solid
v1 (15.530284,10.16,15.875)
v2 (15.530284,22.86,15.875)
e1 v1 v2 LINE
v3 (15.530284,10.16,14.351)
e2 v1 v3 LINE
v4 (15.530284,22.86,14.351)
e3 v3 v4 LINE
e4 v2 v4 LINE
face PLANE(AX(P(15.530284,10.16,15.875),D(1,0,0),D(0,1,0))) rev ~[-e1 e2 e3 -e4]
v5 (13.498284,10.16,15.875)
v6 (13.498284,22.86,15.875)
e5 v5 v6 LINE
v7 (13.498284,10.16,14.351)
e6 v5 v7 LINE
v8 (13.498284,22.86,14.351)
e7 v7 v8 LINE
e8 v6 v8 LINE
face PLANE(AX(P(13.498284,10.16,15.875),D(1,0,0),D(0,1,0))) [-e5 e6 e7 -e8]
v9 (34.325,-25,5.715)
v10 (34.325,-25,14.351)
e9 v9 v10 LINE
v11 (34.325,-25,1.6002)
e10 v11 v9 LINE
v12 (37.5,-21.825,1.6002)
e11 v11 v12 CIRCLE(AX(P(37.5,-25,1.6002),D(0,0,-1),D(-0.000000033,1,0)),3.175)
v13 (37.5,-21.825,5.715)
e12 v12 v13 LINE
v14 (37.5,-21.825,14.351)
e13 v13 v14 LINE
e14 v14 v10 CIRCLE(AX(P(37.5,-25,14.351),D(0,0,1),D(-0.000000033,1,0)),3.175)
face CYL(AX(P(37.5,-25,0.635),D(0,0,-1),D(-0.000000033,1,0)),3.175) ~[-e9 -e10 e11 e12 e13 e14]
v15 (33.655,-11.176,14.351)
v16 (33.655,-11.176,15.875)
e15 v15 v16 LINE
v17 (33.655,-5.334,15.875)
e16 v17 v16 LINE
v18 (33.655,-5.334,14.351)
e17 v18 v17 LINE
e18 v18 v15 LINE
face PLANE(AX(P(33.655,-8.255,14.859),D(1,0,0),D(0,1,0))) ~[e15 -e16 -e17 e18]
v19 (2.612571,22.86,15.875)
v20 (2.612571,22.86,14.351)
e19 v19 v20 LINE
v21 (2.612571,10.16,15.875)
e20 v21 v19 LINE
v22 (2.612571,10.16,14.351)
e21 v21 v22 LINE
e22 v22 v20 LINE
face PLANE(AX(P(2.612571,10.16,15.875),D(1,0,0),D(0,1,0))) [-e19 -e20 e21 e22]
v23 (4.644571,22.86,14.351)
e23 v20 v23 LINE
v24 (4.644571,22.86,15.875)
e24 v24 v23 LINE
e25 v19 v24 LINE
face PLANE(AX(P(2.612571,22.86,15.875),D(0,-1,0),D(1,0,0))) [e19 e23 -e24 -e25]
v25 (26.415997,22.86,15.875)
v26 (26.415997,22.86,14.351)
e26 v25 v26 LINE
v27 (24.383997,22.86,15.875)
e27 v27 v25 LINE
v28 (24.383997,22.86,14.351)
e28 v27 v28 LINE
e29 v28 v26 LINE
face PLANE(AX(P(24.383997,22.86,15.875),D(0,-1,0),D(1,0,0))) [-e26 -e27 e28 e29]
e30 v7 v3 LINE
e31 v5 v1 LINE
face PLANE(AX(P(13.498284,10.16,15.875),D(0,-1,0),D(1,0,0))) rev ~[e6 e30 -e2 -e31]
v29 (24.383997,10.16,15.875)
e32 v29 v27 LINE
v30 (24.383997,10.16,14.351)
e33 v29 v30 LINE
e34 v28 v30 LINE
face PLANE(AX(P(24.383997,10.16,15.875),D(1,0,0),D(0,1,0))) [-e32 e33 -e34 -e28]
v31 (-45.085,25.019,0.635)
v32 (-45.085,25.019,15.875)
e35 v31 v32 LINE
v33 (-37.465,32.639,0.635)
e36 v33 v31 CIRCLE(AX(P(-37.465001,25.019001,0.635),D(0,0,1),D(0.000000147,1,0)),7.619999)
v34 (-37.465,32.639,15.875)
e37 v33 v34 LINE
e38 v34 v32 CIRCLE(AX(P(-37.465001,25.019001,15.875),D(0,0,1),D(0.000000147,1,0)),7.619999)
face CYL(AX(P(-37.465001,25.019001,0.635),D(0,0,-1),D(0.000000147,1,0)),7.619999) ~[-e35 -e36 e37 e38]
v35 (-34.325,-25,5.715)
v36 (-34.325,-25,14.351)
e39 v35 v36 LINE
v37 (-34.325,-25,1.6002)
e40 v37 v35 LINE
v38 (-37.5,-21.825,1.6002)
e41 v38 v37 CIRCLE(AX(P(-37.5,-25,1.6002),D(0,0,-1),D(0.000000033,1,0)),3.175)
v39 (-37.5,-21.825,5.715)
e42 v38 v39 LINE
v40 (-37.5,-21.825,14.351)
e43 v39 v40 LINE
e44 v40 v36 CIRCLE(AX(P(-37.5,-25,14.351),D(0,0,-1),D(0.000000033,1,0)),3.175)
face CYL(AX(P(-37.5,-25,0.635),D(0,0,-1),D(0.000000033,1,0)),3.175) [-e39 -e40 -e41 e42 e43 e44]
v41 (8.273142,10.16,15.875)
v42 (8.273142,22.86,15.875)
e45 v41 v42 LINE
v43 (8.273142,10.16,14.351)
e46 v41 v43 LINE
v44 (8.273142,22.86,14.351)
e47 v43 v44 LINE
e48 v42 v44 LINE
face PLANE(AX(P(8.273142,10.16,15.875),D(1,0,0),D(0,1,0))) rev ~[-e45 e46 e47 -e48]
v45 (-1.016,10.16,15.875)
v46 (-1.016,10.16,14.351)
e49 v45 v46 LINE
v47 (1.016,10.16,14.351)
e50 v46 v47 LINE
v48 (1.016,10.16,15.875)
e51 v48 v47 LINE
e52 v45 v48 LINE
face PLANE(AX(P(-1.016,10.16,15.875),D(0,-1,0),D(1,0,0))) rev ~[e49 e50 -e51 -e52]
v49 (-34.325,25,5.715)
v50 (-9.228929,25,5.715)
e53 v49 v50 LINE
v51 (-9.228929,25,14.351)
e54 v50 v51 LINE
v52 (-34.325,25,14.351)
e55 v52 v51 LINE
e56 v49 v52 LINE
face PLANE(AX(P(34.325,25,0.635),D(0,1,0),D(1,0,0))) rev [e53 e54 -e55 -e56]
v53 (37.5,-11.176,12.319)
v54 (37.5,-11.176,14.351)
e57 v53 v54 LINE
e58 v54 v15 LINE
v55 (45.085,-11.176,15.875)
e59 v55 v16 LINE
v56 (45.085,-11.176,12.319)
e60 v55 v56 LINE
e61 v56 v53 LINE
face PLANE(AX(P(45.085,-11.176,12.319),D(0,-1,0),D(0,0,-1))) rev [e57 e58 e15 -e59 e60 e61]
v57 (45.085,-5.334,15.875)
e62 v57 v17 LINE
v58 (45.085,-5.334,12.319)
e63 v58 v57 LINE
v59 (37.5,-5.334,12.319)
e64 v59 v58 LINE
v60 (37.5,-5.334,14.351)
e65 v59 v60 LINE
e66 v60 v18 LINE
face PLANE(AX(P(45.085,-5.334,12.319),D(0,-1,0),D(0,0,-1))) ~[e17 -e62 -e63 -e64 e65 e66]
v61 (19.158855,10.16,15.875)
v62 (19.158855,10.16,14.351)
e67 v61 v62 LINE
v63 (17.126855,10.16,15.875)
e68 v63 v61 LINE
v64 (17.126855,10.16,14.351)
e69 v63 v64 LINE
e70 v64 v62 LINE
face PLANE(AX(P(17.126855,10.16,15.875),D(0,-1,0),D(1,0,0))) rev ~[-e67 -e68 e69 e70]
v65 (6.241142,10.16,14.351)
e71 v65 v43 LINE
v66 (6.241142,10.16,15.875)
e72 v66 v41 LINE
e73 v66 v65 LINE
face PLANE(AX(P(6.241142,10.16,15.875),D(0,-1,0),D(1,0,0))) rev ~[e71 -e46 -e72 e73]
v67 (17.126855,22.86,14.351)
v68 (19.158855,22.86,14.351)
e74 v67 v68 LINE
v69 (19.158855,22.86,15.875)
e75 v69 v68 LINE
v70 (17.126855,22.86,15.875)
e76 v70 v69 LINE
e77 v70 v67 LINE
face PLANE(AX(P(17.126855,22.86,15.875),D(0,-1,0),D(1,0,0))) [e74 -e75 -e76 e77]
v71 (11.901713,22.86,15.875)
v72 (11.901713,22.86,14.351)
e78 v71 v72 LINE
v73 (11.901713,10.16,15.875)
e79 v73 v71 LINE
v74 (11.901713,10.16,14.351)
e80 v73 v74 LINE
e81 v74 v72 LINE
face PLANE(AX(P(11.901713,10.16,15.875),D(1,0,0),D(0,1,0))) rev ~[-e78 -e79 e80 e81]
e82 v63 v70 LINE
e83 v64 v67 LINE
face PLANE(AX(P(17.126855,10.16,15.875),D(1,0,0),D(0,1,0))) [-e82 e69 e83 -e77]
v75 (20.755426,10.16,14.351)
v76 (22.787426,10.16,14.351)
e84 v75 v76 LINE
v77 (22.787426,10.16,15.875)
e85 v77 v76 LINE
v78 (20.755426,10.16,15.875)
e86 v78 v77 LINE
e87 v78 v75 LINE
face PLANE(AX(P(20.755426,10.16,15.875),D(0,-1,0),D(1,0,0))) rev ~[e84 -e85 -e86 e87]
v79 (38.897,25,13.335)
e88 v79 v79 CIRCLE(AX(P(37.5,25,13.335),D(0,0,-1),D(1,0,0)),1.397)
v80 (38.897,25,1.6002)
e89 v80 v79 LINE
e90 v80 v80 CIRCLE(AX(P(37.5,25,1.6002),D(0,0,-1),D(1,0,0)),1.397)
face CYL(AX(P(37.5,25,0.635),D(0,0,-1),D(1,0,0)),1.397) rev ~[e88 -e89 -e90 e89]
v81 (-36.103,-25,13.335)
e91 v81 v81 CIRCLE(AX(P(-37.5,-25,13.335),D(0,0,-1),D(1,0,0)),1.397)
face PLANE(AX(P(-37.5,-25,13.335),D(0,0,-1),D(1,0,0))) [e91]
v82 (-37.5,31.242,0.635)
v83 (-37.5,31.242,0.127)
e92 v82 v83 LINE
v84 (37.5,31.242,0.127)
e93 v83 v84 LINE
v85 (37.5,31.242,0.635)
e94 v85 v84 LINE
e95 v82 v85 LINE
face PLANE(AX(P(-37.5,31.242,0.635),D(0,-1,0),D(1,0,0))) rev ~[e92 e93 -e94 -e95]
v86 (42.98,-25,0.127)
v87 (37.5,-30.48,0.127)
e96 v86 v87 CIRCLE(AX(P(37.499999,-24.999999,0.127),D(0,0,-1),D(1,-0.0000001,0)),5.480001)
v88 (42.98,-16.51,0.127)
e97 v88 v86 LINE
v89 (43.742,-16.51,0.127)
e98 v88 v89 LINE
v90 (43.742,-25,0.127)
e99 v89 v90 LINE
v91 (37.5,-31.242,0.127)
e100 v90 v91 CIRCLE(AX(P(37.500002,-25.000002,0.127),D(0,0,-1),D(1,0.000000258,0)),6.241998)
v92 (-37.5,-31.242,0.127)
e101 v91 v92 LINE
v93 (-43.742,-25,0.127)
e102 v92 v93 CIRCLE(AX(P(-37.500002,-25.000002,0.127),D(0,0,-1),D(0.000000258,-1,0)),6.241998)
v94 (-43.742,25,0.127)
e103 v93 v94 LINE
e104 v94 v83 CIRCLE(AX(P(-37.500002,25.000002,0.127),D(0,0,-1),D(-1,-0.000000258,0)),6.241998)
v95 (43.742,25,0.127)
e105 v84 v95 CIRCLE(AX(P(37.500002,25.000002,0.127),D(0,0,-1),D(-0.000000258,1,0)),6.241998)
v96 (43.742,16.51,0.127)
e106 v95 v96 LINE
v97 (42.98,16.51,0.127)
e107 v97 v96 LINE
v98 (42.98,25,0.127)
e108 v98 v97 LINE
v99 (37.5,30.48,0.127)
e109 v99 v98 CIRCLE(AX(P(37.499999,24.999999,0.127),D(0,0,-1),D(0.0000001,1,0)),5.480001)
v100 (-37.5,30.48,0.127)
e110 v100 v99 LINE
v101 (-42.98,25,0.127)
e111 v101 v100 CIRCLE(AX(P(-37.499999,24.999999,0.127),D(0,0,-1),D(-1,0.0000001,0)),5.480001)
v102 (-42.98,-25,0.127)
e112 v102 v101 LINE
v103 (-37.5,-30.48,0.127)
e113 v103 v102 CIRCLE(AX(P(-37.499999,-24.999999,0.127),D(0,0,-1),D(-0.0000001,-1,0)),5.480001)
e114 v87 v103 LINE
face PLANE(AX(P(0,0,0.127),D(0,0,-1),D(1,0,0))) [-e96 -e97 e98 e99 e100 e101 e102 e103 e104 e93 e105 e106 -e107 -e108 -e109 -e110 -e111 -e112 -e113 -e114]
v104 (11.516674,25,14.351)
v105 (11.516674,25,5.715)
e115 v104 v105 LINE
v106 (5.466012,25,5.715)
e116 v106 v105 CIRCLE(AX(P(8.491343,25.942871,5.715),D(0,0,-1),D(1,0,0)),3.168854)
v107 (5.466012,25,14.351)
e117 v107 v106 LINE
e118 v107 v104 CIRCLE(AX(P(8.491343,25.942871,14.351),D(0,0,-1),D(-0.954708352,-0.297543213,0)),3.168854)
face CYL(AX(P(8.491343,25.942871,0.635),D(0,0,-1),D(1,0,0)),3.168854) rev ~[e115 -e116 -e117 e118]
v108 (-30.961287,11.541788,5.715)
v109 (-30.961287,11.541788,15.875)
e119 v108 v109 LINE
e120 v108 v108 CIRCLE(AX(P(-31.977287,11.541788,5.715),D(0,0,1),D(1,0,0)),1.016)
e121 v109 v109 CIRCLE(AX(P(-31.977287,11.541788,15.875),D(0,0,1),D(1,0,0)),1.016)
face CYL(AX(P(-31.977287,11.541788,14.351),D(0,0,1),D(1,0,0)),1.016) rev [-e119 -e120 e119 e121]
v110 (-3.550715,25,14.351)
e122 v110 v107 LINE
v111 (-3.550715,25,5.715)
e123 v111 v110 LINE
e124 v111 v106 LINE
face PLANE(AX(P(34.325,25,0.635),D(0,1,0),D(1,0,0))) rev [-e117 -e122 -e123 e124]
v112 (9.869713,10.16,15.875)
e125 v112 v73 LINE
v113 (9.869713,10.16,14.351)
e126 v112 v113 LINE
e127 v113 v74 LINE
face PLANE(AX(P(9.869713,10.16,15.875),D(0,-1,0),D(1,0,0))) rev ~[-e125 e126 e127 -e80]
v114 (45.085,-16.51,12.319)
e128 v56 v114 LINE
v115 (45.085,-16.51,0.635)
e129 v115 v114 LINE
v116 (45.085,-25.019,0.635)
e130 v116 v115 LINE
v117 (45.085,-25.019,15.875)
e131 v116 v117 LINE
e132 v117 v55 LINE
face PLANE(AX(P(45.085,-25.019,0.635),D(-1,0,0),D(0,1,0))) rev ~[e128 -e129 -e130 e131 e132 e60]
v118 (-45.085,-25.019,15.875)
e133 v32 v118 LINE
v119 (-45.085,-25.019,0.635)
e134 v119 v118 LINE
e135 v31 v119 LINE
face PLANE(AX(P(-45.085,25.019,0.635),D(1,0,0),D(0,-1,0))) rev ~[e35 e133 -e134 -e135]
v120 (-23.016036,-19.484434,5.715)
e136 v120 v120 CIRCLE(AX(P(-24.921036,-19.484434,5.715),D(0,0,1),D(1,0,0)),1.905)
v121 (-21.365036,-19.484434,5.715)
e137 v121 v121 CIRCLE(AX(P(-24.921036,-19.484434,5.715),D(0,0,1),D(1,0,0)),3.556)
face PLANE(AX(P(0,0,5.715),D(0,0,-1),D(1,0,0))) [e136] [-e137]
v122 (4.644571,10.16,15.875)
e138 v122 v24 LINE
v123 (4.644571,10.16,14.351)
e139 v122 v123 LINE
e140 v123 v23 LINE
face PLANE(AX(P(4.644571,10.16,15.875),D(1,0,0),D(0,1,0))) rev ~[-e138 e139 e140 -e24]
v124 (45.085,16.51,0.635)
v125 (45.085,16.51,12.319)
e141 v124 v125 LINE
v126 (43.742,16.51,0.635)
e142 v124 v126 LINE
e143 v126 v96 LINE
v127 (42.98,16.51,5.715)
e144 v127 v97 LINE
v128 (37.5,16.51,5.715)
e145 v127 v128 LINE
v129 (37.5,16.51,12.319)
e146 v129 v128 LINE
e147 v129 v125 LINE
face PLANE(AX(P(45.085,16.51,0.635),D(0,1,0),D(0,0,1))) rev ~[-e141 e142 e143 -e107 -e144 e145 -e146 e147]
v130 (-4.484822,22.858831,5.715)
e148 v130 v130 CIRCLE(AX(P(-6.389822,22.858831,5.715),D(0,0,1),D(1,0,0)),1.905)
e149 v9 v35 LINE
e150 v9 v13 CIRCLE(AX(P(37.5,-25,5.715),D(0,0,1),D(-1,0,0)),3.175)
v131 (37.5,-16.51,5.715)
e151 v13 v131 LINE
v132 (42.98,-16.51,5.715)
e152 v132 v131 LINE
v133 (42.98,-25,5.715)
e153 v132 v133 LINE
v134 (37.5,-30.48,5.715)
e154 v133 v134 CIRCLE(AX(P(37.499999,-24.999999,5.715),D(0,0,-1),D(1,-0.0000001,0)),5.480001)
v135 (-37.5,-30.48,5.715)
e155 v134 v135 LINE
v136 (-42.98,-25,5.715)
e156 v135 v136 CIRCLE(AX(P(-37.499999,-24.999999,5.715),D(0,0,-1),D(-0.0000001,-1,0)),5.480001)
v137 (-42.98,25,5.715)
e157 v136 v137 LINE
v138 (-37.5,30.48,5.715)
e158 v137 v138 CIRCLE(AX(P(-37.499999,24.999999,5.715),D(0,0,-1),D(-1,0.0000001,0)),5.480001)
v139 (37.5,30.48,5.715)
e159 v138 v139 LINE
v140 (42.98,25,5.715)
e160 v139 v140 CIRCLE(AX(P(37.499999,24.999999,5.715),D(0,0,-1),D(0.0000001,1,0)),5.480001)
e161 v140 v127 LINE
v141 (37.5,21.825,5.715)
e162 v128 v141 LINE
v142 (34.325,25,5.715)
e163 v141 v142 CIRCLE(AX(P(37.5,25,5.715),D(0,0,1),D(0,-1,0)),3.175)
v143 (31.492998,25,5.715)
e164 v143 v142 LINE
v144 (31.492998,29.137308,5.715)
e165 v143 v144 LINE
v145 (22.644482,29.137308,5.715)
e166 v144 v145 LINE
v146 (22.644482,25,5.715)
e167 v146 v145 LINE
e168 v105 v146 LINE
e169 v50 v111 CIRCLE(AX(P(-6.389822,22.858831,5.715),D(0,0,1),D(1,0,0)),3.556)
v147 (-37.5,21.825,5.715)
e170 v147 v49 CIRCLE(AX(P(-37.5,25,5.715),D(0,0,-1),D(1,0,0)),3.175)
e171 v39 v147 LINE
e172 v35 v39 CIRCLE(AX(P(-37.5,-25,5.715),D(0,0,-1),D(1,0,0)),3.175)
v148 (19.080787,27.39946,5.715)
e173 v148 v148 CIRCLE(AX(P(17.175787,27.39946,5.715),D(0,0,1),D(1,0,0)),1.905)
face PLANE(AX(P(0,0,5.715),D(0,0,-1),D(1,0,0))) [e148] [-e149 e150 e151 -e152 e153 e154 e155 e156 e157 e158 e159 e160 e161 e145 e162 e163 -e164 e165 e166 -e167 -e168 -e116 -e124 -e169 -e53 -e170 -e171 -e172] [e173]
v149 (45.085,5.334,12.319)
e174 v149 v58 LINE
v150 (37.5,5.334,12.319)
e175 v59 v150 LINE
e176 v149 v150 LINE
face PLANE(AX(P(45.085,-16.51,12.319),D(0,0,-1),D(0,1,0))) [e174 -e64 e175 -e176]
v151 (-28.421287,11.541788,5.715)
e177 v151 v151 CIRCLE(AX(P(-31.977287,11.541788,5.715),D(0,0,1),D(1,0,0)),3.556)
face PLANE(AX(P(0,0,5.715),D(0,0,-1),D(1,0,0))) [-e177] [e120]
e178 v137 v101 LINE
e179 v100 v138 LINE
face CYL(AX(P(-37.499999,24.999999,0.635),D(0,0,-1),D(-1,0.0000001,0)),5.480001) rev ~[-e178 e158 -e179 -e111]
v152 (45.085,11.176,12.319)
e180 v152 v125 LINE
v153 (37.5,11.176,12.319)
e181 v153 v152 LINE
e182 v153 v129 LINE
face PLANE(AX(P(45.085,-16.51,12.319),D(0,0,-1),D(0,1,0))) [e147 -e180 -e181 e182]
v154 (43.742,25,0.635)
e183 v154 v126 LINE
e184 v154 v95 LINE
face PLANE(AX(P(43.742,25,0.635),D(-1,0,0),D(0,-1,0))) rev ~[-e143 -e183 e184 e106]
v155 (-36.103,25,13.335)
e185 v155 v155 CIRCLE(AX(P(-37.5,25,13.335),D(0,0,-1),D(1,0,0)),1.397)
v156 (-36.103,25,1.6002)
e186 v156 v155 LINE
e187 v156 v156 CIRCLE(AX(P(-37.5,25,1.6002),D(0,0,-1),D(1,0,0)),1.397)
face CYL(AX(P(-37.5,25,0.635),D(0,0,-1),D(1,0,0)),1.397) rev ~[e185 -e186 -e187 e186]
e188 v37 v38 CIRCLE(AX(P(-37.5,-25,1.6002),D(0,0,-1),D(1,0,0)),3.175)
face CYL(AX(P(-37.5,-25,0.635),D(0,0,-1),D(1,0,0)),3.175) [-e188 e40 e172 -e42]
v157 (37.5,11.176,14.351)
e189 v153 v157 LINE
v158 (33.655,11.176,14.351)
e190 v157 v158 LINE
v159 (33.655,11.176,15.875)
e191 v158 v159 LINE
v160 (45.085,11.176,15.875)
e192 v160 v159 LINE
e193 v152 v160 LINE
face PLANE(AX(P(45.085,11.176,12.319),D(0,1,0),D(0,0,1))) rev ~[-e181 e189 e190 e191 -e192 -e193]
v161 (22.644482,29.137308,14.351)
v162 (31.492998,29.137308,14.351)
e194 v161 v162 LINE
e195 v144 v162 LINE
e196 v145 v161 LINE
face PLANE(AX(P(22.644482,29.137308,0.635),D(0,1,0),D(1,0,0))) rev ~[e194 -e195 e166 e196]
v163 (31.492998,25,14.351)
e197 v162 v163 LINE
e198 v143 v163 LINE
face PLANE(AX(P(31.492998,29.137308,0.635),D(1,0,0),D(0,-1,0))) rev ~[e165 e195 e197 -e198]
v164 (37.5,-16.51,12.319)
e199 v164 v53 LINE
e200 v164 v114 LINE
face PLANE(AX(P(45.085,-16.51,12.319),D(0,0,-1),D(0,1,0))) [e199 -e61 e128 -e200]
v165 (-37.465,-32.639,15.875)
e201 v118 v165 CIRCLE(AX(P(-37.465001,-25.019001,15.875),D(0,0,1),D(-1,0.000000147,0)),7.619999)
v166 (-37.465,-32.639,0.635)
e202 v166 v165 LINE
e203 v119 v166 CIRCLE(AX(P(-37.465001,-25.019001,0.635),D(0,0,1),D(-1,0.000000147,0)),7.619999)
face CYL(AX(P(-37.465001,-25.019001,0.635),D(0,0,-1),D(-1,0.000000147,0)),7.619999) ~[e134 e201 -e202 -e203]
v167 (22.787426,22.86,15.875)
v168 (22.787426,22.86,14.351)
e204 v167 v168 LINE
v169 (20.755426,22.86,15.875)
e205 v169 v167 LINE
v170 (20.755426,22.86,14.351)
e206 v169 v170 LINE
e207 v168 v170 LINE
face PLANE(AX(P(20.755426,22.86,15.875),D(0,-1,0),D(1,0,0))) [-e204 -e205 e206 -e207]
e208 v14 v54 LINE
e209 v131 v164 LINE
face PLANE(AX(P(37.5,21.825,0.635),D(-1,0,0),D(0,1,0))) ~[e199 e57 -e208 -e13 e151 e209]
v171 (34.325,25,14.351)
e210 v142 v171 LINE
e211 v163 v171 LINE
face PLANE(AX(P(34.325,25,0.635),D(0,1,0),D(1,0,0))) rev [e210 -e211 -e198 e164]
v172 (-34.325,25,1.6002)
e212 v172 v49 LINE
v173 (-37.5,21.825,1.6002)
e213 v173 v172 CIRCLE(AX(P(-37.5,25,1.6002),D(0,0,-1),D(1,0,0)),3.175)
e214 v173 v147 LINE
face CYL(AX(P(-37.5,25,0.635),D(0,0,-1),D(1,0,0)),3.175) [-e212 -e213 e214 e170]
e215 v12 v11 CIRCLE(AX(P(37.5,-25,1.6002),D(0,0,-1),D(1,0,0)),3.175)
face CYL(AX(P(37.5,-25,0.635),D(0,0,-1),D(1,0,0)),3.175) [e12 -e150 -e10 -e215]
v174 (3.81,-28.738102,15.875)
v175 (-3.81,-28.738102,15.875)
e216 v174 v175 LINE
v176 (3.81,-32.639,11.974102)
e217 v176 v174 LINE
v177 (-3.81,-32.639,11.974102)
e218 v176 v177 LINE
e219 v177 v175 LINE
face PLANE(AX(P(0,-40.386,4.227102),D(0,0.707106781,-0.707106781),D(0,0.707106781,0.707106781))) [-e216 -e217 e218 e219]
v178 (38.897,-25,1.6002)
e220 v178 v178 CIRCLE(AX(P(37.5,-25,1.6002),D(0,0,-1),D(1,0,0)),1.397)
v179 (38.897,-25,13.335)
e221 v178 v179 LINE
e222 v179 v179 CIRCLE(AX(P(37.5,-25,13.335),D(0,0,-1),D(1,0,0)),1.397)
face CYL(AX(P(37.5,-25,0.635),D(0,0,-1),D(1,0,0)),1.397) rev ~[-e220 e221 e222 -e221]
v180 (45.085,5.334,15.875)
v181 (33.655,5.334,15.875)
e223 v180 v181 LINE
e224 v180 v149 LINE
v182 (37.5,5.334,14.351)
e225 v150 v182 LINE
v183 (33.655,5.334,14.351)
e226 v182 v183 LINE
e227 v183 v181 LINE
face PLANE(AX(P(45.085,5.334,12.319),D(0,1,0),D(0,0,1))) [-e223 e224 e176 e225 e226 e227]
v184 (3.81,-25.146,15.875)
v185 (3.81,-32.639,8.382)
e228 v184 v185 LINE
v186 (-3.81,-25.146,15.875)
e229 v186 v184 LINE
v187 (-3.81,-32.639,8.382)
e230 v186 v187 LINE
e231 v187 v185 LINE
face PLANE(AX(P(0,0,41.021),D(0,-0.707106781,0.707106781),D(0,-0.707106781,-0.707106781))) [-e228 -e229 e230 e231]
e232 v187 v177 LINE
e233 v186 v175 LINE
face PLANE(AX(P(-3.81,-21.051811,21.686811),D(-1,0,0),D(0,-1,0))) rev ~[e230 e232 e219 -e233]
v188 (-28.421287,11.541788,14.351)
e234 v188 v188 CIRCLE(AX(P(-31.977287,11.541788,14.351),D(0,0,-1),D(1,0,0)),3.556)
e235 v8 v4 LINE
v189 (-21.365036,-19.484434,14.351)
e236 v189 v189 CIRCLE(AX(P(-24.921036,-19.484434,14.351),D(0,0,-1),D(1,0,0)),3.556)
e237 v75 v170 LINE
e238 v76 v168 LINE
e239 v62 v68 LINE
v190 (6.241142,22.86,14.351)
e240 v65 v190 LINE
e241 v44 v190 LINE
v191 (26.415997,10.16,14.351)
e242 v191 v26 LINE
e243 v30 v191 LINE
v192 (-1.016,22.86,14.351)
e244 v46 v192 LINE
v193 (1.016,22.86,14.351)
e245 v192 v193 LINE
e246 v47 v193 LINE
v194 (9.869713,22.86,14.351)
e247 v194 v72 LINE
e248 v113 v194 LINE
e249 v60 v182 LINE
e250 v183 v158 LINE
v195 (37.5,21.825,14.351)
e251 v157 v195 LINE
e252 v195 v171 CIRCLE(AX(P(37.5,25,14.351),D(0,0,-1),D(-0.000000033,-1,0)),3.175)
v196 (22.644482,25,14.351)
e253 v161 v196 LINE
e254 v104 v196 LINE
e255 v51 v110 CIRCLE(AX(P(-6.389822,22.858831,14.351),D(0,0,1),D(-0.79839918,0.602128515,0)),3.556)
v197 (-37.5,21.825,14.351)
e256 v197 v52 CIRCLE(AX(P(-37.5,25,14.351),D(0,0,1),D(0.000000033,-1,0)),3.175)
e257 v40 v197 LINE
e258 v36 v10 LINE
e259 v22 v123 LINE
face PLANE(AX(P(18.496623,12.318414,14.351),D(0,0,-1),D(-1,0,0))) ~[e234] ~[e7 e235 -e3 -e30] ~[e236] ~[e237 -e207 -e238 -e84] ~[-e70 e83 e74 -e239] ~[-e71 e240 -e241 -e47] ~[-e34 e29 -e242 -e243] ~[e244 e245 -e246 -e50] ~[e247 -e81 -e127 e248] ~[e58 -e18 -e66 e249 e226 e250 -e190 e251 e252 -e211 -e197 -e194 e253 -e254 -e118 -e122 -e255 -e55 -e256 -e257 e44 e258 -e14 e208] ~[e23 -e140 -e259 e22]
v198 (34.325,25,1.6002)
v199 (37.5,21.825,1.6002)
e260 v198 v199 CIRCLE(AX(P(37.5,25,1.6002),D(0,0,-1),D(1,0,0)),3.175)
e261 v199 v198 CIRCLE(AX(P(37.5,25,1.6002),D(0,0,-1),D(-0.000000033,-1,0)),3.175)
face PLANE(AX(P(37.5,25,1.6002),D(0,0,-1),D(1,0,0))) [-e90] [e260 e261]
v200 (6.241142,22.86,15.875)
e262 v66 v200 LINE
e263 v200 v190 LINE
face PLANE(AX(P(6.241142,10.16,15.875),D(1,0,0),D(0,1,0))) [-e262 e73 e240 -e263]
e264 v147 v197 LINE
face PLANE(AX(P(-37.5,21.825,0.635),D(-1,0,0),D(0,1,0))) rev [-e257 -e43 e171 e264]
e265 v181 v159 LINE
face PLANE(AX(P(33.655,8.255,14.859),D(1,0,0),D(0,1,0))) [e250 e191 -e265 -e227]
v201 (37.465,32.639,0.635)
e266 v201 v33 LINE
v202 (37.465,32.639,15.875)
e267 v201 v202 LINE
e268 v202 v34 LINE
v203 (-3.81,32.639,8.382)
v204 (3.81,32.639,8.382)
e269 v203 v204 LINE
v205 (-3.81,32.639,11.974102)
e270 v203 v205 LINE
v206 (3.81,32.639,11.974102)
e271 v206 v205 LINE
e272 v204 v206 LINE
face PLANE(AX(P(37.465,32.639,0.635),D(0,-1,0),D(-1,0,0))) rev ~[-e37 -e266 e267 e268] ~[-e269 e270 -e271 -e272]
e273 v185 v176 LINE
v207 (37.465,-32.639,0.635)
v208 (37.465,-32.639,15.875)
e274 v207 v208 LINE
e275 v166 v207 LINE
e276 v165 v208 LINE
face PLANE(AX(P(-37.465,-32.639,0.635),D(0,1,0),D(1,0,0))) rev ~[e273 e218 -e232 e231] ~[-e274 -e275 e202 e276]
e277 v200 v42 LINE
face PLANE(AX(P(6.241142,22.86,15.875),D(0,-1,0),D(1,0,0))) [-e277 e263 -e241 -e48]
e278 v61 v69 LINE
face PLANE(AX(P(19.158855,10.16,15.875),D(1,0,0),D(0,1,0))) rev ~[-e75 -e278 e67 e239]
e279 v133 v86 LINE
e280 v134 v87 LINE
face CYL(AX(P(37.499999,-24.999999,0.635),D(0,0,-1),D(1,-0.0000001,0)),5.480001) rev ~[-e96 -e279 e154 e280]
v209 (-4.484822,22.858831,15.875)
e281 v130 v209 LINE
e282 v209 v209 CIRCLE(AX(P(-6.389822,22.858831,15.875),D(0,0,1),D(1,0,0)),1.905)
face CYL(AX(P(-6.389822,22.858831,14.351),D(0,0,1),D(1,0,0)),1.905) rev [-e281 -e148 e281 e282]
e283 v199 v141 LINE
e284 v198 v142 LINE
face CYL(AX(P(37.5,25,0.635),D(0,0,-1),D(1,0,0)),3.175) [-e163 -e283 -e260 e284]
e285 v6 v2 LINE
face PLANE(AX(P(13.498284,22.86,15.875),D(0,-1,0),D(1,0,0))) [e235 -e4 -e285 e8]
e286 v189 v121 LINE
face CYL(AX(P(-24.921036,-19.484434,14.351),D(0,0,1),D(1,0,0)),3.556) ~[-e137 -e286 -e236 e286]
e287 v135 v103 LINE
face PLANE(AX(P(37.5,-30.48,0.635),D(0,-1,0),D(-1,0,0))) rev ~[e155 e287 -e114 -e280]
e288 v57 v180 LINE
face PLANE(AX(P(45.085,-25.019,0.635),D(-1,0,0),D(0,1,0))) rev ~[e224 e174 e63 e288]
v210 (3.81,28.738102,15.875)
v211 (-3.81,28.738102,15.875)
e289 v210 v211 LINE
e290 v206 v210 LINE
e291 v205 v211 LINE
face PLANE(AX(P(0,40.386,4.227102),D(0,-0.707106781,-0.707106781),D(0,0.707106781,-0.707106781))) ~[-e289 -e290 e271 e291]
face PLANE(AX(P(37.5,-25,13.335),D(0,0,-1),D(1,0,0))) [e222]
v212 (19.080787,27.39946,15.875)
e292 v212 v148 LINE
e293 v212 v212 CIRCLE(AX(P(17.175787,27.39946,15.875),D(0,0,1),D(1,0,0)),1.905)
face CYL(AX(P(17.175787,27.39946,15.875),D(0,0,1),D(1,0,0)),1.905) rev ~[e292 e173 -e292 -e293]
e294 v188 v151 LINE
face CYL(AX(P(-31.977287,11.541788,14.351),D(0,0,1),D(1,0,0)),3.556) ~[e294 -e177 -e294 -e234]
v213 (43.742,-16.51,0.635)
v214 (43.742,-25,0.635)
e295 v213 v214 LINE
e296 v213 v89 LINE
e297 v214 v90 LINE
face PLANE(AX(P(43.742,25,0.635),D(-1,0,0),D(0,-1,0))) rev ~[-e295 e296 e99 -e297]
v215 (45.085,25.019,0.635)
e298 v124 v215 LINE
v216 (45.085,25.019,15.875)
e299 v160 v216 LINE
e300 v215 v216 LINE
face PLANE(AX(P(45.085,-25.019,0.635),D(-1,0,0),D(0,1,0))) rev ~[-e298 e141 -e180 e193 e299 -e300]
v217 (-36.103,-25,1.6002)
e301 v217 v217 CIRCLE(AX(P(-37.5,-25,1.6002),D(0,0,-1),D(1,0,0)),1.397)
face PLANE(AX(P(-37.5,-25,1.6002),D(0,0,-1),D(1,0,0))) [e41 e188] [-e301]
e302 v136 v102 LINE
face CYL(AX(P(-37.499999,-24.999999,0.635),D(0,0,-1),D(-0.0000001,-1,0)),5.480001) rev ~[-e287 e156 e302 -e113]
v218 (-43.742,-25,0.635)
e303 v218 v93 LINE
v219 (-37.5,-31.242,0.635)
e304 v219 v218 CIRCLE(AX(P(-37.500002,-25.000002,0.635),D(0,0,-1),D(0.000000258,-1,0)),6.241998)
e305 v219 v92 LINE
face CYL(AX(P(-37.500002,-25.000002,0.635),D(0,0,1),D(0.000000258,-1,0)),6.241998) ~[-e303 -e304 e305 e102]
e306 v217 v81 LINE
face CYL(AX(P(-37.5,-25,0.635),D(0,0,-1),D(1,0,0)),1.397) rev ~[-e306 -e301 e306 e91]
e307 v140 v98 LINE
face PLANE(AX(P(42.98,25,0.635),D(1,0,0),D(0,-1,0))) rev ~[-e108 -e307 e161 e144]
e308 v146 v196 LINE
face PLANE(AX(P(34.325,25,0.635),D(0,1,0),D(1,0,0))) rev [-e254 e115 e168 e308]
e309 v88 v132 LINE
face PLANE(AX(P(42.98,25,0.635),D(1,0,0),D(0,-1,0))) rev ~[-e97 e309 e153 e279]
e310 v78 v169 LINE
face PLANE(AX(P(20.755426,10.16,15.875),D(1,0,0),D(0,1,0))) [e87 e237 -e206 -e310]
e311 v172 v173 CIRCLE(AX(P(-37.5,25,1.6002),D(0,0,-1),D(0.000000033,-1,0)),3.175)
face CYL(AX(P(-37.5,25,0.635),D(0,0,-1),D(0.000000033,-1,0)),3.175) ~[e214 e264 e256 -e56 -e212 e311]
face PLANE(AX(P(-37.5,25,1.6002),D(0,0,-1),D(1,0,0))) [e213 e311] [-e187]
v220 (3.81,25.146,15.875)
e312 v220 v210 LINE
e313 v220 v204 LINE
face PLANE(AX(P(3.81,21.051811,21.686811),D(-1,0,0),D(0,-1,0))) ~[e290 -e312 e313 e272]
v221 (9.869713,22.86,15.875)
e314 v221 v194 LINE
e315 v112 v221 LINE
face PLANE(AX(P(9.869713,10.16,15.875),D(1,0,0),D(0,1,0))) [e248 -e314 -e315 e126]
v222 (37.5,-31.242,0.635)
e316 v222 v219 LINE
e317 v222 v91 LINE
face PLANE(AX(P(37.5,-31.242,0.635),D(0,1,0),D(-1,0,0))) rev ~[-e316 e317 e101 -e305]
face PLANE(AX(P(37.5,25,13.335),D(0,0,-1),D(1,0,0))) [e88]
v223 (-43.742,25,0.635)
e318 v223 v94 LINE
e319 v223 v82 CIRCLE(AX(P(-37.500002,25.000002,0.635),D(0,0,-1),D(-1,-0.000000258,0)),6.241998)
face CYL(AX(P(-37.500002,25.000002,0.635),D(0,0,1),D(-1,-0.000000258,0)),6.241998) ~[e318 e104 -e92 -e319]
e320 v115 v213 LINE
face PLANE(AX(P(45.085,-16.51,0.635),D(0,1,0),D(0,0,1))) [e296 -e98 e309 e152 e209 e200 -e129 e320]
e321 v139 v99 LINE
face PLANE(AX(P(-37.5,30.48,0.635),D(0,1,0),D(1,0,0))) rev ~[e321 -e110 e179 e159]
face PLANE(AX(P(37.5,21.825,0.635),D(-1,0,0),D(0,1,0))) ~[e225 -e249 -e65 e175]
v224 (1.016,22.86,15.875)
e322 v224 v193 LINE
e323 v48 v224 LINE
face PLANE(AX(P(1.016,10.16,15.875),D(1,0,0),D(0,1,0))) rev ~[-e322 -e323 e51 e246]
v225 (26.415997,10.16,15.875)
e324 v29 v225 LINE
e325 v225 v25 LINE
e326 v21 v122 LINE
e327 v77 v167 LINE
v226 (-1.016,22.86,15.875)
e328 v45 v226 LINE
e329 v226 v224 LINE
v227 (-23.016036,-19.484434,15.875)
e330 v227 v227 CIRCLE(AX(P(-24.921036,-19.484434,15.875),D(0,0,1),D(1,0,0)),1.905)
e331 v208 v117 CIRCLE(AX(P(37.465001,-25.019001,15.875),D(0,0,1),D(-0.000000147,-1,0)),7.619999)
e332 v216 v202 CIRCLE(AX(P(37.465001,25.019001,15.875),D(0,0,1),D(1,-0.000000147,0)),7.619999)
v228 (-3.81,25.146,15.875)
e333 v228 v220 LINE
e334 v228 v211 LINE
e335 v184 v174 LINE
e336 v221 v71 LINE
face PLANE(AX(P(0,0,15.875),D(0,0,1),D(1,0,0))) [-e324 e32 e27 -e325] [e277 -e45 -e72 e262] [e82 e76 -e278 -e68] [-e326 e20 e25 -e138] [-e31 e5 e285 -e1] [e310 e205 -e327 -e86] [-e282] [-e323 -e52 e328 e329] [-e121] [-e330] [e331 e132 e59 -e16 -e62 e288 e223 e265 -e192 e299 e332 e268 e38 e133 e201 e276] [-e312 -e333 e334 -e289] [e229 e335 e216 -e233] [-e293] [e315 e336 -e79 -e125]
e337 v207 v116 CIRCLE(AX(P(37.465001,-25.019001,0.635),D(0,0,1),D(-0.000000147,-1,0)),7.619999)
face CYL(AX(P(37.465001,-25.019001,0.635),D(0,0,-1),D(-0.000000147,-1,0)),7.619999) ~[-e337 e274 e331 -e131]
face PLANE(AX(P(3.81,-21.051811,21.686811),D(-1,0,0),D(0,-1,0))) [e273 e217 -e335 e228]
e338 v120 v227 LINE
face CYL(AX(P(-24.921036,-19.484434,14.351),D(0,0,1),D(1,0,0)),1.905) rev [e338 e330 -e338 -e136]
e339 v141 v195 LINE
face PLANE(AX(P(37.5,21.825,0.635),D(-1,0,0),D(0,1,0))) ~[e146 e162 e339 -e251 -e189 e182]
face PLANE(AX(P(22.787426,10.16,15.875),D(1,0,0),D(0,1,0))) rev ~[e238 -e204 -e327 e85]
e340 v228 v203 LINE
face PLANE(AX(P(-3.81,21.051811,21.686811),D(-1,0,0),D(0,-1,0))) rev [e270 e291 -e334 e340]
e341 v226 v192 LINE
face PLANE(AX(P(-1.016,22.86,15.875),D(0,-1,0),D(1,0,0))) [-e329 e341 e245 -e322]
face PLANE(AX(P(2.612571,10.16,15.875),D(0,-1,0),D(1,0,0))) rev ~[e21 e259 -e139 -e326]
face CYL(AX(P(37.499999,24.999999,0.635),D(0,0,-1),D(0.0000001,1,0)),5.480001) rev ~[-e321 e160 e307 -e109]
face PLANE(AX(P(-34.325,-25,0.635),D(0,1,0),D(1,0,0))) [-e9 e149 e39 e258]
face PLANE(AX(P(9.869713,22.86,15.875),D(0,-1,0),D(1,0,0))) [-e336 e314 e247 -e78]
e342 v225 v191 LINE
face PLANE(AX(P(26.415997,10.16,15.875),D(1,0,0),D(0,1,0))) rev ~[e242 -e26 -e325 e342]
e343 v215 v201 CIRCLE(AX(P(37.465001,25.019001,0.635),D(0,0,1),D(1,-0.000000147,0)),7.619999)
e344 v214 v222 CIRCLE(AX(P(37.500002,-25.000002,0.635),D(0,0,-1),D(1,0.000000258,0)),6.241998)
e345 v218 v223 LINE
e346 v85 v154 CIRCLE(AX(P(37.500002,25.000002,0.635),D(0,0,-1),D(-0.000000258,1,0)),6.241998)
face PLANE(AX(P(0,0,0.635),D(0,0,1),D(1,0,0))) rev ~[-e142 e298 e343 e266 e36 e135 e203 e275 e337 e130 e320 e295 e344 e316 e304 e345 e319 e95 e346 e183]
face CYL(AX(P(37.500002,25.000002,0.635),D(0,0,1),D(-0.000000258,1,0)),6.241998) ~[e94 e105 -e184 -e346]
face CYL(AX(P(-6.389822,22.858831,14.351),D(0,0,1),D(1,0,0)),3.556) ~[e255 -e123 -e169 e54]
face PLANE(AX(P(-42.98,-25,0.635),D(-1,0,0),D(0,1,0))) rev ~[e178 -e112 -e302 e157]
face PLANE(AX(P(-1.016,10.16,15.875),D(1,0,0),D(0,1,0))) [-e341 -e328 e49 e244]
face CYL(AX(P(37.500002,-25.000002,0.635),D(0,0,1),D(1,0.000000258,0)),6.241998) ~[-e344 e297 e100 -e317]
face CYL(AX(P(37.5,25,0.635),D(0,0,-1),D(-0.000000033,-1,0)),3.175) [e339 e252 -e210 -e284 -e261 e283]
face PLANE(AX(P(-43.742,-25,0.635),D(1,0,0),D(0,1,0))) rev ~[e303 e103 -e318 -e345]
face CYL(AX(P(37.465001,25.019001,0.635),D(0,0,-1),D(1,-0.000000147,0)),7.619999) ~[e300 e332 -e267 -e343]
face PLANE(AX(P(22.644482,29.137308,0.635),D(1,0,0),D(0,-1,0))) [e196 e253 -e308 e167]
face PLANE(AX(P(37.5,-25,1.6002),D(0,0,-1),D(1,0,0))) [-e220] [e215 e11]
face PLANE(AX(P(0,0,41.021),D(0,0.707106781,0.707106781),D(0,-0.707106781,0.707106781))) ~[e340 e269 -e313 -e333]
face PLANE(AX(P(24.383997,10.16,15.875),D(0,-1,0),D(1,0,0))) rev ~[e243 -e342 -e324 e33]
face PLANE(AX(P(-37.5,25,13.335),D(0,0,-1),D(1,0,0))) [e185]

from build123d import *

# Parameters (mm, degrees)
PAD002_DEPTH                  = 15.24
SKETCH006_W                   = 33.02
SKETCH006_H                   = 11.684
POCKET003_DEPTH               = 50.8
SKETCH007_R                   = 1.905
POCKET004_DEPTH               = 15.241
SKETCH008_R                   = 1.397
POCKET005_DEPTH               = 12.7
PAD003_DEPTH                  = 0.508
POCKET006_DEPTH               = 13.716
POCKET006_MIRRORED002_2_DEPTH = 13.716
SKETCH011_R                   = 1.016
POCKET007_DEPTH               = 15.749
SKETCH012_R                   = 3.556
SKETCH012_R_2                 = 1.016
SKETCH012_R_3                 = 1.905
PAD004_DEPTH                  = 10.16
SKETCH013_W                   = 2.032
SKETCH013_H                   = 12.7
POCKET008_DEPTH               = 15.749
LINEARPATTERN001_COUNT        = 8
LINEARPATTERN001_PITCH        = 3.628571
POCKET009_DEPTH               = 5.08
POCKET010_DEPTH               = 3.81
SKETCH016_R                   = 3.168854
SKETCH016_W                   = 8.848516
SKETCH016_H                   = 9.89258
POCKET011_DEPTH               = 13.716
SKETCH017_R                   = 3.175
POCKET012_DEPTH               = 5.08
SKETCH018_R                   = 4.445
POCKET013_DEPTH               = 0.9652
SKETCH019_W                   = 5.842
SKETCH019_H                   = 5.08
POCKET014_DEPTH               = 11.43


with BuildPart() as part:
    # Sketch005 → Pad002 (new body)
    with BuildSketch(Plane.XY):
        with BuildLine():
            Line((-37.465, -32.639), (37.465, -32.639))
            ThreePointArc((37.465, -32.639), (42.853154, -30.407154), (45.085, -25.019))
            Line((45.085, -25.019), (45.085, 25.019))
            ThreePointArc((45.085, 25.019), (42.853154, 30.407154), (37.465, 32.639))
            Line((37.465, 32.639), (-37.465, 32.639))
            ThreePointArc((-37.465, 32.639), (-42.853154, 30.407154), (-45.085, 25.019))
            Line((-45.085, 25.019), (-45.085, -25.019))
            ThreePointArc((-45.085, -25.019), (-42.853154, -30.407154), (-37.465, -32.639))
        make_face()
    extrude(amount=PAD002_DEPTH)

    # Sketch006 (on Face3 of Pad002) → Pocket003 (cut)
    with BuildSketch(Plane.YZ.offset(45.085)):
        with Locations((0, 5.842)):
            Rectangle(SKETCH006_W, SKETCH006_H)
    extrude(amount=-POCKET003_DEPTH, mode=Mode.SUBTRACT)

    # Sketch007 (on Face5 of Pocket003) → Pocket004 (cut, through all)
    with BuildSketch(Plane.XY.offset(15.24)):
        with Locations((-24.921036, -19.484434)):
            Circle(SKETCH007_R)
        with Locations((-6.389822, 22.858831)):
            Circle(SKETCH007_R)
        with Locations((17.175787, 27.39946)):
            Circle(SKETCH007_R)
    extrude(amount=-POCKET004_DEPTH, mode=Mode.SUBTRACT)

    # Sketch008 (on Face4 of Pocket004) → Pocket005 (cut)
    with BuildSketch(Plane(origin=(0, 0, 0), x_dir=(1, 0, 0), z_dir=(0, 0, -1))):
        with Locations((37.5, 25)):
            Circle(SKETCH008_R)
        with Locations((37.5, -25)):
            Circle(SKETCH008_R)
        with Locations((-37.5, -25)):
            Circle(SKETCH008_R)
        with Locations((-37.5, 25)):
            Circle(SKETCH008_R)
    extrude(amount=-POCKET005_DEPTH, mode=Mode.SUBTRACT)

    # Sketch009 (on Face4 of Pocket005) → Pad003 (join)
    with BuildSketch(Plane(origin=(0, 0, 0), x_dir=(1, 0, 0), z_dir=(0, 0, -1))):
        with BuildLine():
            Line((-37.5, -31.242), (37.5, -31.242))
            ThreePointArc((37.5, -31.242), (41.913761, -29.413761), (43.742, -25))
            Line((43.742, -25), (43.742, 25))
            ThreePointArc((43.742, 25), (41.913761, 29.413761), (37.5, 31.242))
            Line((37.5, 31.242), (-37.5, 31.242))
            ThreePointArc((-37.5, 31.242), (-41.913761, 29.413761), (-43.742, 25))
            Line((-43.742, 25), (-43.742, -25))
            ThreePointArc((-43.742, -25), (-41.913761, -29.413761), (-37.5, -31.242))
        make_face()
        with BuildLine():
            Line((-37.5, -30.48), (37.5, -30.48))
            ThreePointArc((37.5, -30.48), (41.374945, -28.874945), (42.98, -25))
            Line((42.98, -25), (42.98, 25))
            ThreePointArc((42.98, 25), (41.374945, 28.874945), (37.5, 30.48))
            Line((37.5, 30.48), (-37.5, 30.48))
            ThreePointArc((-37.5, 30.48), (-41.374945, 28.874945), (-42.98, 25))
            Line((-42.98, 25), (-42.98, -25))
            ThreePointArc((-42.98, -25), (-41.374945, -28.874945), (-37.5, -30.48))
        make_face(mode=Mode.SUBTRACT)
    extrude(amount=PAD003_DEPTH)

    # Sketch010 (on Face26 of Pad003) → Pocket006 (cut)
    with BuildSketch(Plane(origin=(0, 0, 0), x_dir=(1, 0, 0), z_dir=(0, 0, -1))):
        with BuildLine():
            ThreePointArc((-37.5, 21.825), (-35.254936, 22.754936), (-34.325, 25))
            Line((-34.325, 25), (0, 25))
            Line((0, 25), (0, 0))
            Line((-37.5, 0), (0, 0))
            Line((-37.5, 21.825), (-37.5, 0))
        make_face()
    pocket006 = extrude(amount=-POCKET006_DEPTH, mode=Mode.SUBTRACT)

    # Sketch010 Mirrored002 2 → Pocket006 Mirrored002 2 (cut)
    with BuildSketch(Plane(origin=(0, 0, 0), x_dir=(-1, 0, 0), z_dir=(0, 0, 1))):
        with BuildLine():
            ThreePointArc((-37.5, 21.825), (-35.254936, 22.754936), (-34.325, 25))
            Line((-34.325, 25), (0, 25))
            Line((0, 25), (0, 0))
            Line((-37.5, 0), (0, 0))
            Line((-37.5, 21.825), (-37.5, 0))
        make_face()
    pocket006_mirrored002_2 = extrude(amount=POCKET006_MIRRORED002_2_DEPTH, mode=Mode.SUBTRACT)

    # Mirrored003: Pocket006, Pocket006 Mirrored002 2 across Sketch010 H_Axis
    add(pocket006.mirror(Plane(origin=(0, 0, 0), x_dir=(0, 0, -1), z_dir=(0, -1, 0))), mode=Mode.SUBTRACT)
    add(pocket006_mirrored002_2.mirror(Plane(origin=(0, 0, 0), x_dir=(0, 0, -1), z_dir=(0, -1, 0))), mode=Mode.SUBTRACT)

    # Sketch011 (on Face5 of MultiTransform001) → Pocket007 (cut, through all)
    with BuildSketch(Plane.XY.offset(15.24)):
        with Locations((-31.977287, 11.541788)):
            Circle(SKETCH011_R)
    extrude(amount=-POCKET007_DEPTH, mode=Mode.SUBTRACT)

    # Sketch012 (on Face31 of Pocket007) → Pad004 (join)
    with BuildSketch(Plane(origin=(0, 0, 13.716), x_dir=(1, 0, 0), z_dir=(0, 0, -1))):
        with Locations((-31.977287, -11.541788)):
            Circle(SKETCH012_R)
        with Locations((-31.977287, -11.541788)):
            Circle(SKETCH012_R_2, mode=Mode.SUBTRACT)
        with Locations((-24.921036, 19.484434)):
            Circle(SKETCH012_R)
        with Locations((-24.921036, 19.484434)):
            Circle(SKETCH012_R_3, mode=Mode.SUBTRACT)
        with Locations((-6.389822, -22.858831)):
            Circle(SKETCH012_R)
        with Locations((-6.389822, -22.858831)):
            Circle(SKETCH012_R_3, mode=Mode.SUBTRACT)
    extrude(amount=PAD004_DEPTH)

    # Sketch013 (on Face5 of Pad004) → Pocket008 (cut, through all)
    with BuildSketch(Plane.XY.offset(15.24)):
        with Locations((0, 16.51)):
            Rectangle(SKETCH013_W, SKETCH013_H)
    pocket008 = extrude(amount=-POCKET008_DEPTH, mode=Mode.SUBTRACT)

    # LinearPattern001: Pocket008 ×8
    with Locations(*[(i * LINEARPATTERN001_PITCH, 0, 0) for i in range(1, LINEARPATTERN001_COUNT)]):
        add(pocket008, mode=Mode.SUBTRACT)

    # Sketch014 (on Face7 of LinearPattern001) → Pocket009 (cut)
    with BuildSketch(Plane.YZ.offset(45.085)):
        Polygon((5.334, 14.732), (5.334, 11.684), (0, 11.684), (0, 0), (0, -2.032), (16.51, -2.032), (16.51, 11.684), (11.176, 11.684), (11.176, 14.732), align=None)
    pocket009 = extrude(amount=-POCKET009_DEPTH, mode=Mode.SUBTRACT)

    # Mirrored004: Pocket009 across Sketch014 V_Axis
    add(pocket009.mirror(Plane(origin=(45.085, 0, 0), x_dir=(1, 0, 0), z_dir=(0, 1, 0))), mode=Mode.SUBTRACT)

    # Sketch015 → Pocket010 (cut, symmetric)
    with BuildSketch(Plane.YZ):
        Polygon((0, 40.386), (-40.386, 0), (-40.386, 3.592102), (-3.592102, 40.386), align=None)
    pocket010 = extrude(amount=POCKET010_DEPTH, both=True, mode=Mode.SUBTRACT)

    # Mirrored005: Pocket010 across XZ
    add(pocket010.mirror(Plane.XZ), mode=Mode.SUBTRACT)

    # Sketch016 (on Face77 of Mirrored005) → Pocket011 (cut)
    with BuildSketch(Plane(origin=(0, 0, 0), x_dir=(1, 0, 0), z_dir=(0, 0, -1))):
        with Locations((8.491343, -25.942871)):
            Circle(SKETCH016_R)
        with Locations((27.06874, -24.191018)):
            Rectangle(SKETCH016_W, SKETCH016_H)
    extrude(amount=-POCKET011_DEPTH, mode=Mode.SUBTRACT)

    # Sketch017 (on Face77 of Pocket011) → Pocket012 (cut)
    with BuildSketch(Plane(origin=(0, 0, 0), x_dir=(1, 0, 0), z_dir=(0, 0, -1))):
        with BuildLine():
            Line((-37.5, -30.48), (37.5, -30.48))
            ThreePointArc((37.5, -30.48), (41.374945, -28.874945), (42.98, -25))
            Line((42.98, -25), (42.98, 25))
            ThreePointArc((42.98, 25), (41.374945, 28.874945), (37.5, 30.48))
            Line((37.5, 30.48), (-37.5, 30.48))
            ThreePointArc((-37.5, 30.48), (-41.374945, 28.874945), (-42.98, 25))
            Line((-42.98, 25), (-42.98, -25))
            ThreePointArc((-42.98, -25), (-41.374945, -28.874945), (-37.5, -30.48))
        make_face()
        with Locations((37.5, -25)):
            Circle(SKETCH017_R, mode=Mode.SUBTRACT)
        with Locations((37.5, 25)):
            Circle(SKETCH017_R, mode=Mode.SUBTRACT)
        with Locations((-37.5, 25)):
            Circle(SKETCH017_R, mode=Mode.SUBTRACT)
        with Locations((-37.5, -25)):
            Circle(SKETCH017_R, mode=Mode.SUBTRACT)
    extrude(amount=-POCKET012_DEPTH, mode=Mode.SUBTRACT)

    # Sketch018 (on Face146 of Pocket012) → Pocket013 (cut)
    with BuildSketch(Plane(origin=(0, 0, 0), x_dir=(1, 0, 0), z_dir=(0, 0, -1))):
        with Locations((-37.5, 25)):
            Circle(SKETCH018_R)
        with Locations((37.5, 25)):
            Circle(SKETCH018_R)
        with Locations((37.5, -25)):
            Circle(SKETCH018_R)
        with Locations((-37.5, -25)):
            Circle(SKETCH018_R)
    extrude(amount=-POCKET013_DEPTH, mode=Mode.SUBTRACT)

    # Sketch019 (on Face14 of Pocket013) → Pocket014 (cut)
    with BuildSketch(Plane.YZ.offset(45.085)):
        with Locations((8.255, 14.224)):
            Rectangle(SKETCH019_W, SKETCH019_H)
    pocket014 = extrude(amount=-POCKET014_DEPTH, mode=Mode.SUBTRACT)

    # Mirrored006: Pocket014 across Sketch019 V_Axis
    add(pocket014.mirror(Plane(origin=(45.085, 0, 0), x_dir=(1, 0, 0), z_dir=(0, 1, 0))), mode=Mode.SUBTRACT)


with BuildPart() as part_1:
    # Body001 placement: moved
    add(part.part.moved(Location((0, 0, 0.635))))


solid = part_1.part
